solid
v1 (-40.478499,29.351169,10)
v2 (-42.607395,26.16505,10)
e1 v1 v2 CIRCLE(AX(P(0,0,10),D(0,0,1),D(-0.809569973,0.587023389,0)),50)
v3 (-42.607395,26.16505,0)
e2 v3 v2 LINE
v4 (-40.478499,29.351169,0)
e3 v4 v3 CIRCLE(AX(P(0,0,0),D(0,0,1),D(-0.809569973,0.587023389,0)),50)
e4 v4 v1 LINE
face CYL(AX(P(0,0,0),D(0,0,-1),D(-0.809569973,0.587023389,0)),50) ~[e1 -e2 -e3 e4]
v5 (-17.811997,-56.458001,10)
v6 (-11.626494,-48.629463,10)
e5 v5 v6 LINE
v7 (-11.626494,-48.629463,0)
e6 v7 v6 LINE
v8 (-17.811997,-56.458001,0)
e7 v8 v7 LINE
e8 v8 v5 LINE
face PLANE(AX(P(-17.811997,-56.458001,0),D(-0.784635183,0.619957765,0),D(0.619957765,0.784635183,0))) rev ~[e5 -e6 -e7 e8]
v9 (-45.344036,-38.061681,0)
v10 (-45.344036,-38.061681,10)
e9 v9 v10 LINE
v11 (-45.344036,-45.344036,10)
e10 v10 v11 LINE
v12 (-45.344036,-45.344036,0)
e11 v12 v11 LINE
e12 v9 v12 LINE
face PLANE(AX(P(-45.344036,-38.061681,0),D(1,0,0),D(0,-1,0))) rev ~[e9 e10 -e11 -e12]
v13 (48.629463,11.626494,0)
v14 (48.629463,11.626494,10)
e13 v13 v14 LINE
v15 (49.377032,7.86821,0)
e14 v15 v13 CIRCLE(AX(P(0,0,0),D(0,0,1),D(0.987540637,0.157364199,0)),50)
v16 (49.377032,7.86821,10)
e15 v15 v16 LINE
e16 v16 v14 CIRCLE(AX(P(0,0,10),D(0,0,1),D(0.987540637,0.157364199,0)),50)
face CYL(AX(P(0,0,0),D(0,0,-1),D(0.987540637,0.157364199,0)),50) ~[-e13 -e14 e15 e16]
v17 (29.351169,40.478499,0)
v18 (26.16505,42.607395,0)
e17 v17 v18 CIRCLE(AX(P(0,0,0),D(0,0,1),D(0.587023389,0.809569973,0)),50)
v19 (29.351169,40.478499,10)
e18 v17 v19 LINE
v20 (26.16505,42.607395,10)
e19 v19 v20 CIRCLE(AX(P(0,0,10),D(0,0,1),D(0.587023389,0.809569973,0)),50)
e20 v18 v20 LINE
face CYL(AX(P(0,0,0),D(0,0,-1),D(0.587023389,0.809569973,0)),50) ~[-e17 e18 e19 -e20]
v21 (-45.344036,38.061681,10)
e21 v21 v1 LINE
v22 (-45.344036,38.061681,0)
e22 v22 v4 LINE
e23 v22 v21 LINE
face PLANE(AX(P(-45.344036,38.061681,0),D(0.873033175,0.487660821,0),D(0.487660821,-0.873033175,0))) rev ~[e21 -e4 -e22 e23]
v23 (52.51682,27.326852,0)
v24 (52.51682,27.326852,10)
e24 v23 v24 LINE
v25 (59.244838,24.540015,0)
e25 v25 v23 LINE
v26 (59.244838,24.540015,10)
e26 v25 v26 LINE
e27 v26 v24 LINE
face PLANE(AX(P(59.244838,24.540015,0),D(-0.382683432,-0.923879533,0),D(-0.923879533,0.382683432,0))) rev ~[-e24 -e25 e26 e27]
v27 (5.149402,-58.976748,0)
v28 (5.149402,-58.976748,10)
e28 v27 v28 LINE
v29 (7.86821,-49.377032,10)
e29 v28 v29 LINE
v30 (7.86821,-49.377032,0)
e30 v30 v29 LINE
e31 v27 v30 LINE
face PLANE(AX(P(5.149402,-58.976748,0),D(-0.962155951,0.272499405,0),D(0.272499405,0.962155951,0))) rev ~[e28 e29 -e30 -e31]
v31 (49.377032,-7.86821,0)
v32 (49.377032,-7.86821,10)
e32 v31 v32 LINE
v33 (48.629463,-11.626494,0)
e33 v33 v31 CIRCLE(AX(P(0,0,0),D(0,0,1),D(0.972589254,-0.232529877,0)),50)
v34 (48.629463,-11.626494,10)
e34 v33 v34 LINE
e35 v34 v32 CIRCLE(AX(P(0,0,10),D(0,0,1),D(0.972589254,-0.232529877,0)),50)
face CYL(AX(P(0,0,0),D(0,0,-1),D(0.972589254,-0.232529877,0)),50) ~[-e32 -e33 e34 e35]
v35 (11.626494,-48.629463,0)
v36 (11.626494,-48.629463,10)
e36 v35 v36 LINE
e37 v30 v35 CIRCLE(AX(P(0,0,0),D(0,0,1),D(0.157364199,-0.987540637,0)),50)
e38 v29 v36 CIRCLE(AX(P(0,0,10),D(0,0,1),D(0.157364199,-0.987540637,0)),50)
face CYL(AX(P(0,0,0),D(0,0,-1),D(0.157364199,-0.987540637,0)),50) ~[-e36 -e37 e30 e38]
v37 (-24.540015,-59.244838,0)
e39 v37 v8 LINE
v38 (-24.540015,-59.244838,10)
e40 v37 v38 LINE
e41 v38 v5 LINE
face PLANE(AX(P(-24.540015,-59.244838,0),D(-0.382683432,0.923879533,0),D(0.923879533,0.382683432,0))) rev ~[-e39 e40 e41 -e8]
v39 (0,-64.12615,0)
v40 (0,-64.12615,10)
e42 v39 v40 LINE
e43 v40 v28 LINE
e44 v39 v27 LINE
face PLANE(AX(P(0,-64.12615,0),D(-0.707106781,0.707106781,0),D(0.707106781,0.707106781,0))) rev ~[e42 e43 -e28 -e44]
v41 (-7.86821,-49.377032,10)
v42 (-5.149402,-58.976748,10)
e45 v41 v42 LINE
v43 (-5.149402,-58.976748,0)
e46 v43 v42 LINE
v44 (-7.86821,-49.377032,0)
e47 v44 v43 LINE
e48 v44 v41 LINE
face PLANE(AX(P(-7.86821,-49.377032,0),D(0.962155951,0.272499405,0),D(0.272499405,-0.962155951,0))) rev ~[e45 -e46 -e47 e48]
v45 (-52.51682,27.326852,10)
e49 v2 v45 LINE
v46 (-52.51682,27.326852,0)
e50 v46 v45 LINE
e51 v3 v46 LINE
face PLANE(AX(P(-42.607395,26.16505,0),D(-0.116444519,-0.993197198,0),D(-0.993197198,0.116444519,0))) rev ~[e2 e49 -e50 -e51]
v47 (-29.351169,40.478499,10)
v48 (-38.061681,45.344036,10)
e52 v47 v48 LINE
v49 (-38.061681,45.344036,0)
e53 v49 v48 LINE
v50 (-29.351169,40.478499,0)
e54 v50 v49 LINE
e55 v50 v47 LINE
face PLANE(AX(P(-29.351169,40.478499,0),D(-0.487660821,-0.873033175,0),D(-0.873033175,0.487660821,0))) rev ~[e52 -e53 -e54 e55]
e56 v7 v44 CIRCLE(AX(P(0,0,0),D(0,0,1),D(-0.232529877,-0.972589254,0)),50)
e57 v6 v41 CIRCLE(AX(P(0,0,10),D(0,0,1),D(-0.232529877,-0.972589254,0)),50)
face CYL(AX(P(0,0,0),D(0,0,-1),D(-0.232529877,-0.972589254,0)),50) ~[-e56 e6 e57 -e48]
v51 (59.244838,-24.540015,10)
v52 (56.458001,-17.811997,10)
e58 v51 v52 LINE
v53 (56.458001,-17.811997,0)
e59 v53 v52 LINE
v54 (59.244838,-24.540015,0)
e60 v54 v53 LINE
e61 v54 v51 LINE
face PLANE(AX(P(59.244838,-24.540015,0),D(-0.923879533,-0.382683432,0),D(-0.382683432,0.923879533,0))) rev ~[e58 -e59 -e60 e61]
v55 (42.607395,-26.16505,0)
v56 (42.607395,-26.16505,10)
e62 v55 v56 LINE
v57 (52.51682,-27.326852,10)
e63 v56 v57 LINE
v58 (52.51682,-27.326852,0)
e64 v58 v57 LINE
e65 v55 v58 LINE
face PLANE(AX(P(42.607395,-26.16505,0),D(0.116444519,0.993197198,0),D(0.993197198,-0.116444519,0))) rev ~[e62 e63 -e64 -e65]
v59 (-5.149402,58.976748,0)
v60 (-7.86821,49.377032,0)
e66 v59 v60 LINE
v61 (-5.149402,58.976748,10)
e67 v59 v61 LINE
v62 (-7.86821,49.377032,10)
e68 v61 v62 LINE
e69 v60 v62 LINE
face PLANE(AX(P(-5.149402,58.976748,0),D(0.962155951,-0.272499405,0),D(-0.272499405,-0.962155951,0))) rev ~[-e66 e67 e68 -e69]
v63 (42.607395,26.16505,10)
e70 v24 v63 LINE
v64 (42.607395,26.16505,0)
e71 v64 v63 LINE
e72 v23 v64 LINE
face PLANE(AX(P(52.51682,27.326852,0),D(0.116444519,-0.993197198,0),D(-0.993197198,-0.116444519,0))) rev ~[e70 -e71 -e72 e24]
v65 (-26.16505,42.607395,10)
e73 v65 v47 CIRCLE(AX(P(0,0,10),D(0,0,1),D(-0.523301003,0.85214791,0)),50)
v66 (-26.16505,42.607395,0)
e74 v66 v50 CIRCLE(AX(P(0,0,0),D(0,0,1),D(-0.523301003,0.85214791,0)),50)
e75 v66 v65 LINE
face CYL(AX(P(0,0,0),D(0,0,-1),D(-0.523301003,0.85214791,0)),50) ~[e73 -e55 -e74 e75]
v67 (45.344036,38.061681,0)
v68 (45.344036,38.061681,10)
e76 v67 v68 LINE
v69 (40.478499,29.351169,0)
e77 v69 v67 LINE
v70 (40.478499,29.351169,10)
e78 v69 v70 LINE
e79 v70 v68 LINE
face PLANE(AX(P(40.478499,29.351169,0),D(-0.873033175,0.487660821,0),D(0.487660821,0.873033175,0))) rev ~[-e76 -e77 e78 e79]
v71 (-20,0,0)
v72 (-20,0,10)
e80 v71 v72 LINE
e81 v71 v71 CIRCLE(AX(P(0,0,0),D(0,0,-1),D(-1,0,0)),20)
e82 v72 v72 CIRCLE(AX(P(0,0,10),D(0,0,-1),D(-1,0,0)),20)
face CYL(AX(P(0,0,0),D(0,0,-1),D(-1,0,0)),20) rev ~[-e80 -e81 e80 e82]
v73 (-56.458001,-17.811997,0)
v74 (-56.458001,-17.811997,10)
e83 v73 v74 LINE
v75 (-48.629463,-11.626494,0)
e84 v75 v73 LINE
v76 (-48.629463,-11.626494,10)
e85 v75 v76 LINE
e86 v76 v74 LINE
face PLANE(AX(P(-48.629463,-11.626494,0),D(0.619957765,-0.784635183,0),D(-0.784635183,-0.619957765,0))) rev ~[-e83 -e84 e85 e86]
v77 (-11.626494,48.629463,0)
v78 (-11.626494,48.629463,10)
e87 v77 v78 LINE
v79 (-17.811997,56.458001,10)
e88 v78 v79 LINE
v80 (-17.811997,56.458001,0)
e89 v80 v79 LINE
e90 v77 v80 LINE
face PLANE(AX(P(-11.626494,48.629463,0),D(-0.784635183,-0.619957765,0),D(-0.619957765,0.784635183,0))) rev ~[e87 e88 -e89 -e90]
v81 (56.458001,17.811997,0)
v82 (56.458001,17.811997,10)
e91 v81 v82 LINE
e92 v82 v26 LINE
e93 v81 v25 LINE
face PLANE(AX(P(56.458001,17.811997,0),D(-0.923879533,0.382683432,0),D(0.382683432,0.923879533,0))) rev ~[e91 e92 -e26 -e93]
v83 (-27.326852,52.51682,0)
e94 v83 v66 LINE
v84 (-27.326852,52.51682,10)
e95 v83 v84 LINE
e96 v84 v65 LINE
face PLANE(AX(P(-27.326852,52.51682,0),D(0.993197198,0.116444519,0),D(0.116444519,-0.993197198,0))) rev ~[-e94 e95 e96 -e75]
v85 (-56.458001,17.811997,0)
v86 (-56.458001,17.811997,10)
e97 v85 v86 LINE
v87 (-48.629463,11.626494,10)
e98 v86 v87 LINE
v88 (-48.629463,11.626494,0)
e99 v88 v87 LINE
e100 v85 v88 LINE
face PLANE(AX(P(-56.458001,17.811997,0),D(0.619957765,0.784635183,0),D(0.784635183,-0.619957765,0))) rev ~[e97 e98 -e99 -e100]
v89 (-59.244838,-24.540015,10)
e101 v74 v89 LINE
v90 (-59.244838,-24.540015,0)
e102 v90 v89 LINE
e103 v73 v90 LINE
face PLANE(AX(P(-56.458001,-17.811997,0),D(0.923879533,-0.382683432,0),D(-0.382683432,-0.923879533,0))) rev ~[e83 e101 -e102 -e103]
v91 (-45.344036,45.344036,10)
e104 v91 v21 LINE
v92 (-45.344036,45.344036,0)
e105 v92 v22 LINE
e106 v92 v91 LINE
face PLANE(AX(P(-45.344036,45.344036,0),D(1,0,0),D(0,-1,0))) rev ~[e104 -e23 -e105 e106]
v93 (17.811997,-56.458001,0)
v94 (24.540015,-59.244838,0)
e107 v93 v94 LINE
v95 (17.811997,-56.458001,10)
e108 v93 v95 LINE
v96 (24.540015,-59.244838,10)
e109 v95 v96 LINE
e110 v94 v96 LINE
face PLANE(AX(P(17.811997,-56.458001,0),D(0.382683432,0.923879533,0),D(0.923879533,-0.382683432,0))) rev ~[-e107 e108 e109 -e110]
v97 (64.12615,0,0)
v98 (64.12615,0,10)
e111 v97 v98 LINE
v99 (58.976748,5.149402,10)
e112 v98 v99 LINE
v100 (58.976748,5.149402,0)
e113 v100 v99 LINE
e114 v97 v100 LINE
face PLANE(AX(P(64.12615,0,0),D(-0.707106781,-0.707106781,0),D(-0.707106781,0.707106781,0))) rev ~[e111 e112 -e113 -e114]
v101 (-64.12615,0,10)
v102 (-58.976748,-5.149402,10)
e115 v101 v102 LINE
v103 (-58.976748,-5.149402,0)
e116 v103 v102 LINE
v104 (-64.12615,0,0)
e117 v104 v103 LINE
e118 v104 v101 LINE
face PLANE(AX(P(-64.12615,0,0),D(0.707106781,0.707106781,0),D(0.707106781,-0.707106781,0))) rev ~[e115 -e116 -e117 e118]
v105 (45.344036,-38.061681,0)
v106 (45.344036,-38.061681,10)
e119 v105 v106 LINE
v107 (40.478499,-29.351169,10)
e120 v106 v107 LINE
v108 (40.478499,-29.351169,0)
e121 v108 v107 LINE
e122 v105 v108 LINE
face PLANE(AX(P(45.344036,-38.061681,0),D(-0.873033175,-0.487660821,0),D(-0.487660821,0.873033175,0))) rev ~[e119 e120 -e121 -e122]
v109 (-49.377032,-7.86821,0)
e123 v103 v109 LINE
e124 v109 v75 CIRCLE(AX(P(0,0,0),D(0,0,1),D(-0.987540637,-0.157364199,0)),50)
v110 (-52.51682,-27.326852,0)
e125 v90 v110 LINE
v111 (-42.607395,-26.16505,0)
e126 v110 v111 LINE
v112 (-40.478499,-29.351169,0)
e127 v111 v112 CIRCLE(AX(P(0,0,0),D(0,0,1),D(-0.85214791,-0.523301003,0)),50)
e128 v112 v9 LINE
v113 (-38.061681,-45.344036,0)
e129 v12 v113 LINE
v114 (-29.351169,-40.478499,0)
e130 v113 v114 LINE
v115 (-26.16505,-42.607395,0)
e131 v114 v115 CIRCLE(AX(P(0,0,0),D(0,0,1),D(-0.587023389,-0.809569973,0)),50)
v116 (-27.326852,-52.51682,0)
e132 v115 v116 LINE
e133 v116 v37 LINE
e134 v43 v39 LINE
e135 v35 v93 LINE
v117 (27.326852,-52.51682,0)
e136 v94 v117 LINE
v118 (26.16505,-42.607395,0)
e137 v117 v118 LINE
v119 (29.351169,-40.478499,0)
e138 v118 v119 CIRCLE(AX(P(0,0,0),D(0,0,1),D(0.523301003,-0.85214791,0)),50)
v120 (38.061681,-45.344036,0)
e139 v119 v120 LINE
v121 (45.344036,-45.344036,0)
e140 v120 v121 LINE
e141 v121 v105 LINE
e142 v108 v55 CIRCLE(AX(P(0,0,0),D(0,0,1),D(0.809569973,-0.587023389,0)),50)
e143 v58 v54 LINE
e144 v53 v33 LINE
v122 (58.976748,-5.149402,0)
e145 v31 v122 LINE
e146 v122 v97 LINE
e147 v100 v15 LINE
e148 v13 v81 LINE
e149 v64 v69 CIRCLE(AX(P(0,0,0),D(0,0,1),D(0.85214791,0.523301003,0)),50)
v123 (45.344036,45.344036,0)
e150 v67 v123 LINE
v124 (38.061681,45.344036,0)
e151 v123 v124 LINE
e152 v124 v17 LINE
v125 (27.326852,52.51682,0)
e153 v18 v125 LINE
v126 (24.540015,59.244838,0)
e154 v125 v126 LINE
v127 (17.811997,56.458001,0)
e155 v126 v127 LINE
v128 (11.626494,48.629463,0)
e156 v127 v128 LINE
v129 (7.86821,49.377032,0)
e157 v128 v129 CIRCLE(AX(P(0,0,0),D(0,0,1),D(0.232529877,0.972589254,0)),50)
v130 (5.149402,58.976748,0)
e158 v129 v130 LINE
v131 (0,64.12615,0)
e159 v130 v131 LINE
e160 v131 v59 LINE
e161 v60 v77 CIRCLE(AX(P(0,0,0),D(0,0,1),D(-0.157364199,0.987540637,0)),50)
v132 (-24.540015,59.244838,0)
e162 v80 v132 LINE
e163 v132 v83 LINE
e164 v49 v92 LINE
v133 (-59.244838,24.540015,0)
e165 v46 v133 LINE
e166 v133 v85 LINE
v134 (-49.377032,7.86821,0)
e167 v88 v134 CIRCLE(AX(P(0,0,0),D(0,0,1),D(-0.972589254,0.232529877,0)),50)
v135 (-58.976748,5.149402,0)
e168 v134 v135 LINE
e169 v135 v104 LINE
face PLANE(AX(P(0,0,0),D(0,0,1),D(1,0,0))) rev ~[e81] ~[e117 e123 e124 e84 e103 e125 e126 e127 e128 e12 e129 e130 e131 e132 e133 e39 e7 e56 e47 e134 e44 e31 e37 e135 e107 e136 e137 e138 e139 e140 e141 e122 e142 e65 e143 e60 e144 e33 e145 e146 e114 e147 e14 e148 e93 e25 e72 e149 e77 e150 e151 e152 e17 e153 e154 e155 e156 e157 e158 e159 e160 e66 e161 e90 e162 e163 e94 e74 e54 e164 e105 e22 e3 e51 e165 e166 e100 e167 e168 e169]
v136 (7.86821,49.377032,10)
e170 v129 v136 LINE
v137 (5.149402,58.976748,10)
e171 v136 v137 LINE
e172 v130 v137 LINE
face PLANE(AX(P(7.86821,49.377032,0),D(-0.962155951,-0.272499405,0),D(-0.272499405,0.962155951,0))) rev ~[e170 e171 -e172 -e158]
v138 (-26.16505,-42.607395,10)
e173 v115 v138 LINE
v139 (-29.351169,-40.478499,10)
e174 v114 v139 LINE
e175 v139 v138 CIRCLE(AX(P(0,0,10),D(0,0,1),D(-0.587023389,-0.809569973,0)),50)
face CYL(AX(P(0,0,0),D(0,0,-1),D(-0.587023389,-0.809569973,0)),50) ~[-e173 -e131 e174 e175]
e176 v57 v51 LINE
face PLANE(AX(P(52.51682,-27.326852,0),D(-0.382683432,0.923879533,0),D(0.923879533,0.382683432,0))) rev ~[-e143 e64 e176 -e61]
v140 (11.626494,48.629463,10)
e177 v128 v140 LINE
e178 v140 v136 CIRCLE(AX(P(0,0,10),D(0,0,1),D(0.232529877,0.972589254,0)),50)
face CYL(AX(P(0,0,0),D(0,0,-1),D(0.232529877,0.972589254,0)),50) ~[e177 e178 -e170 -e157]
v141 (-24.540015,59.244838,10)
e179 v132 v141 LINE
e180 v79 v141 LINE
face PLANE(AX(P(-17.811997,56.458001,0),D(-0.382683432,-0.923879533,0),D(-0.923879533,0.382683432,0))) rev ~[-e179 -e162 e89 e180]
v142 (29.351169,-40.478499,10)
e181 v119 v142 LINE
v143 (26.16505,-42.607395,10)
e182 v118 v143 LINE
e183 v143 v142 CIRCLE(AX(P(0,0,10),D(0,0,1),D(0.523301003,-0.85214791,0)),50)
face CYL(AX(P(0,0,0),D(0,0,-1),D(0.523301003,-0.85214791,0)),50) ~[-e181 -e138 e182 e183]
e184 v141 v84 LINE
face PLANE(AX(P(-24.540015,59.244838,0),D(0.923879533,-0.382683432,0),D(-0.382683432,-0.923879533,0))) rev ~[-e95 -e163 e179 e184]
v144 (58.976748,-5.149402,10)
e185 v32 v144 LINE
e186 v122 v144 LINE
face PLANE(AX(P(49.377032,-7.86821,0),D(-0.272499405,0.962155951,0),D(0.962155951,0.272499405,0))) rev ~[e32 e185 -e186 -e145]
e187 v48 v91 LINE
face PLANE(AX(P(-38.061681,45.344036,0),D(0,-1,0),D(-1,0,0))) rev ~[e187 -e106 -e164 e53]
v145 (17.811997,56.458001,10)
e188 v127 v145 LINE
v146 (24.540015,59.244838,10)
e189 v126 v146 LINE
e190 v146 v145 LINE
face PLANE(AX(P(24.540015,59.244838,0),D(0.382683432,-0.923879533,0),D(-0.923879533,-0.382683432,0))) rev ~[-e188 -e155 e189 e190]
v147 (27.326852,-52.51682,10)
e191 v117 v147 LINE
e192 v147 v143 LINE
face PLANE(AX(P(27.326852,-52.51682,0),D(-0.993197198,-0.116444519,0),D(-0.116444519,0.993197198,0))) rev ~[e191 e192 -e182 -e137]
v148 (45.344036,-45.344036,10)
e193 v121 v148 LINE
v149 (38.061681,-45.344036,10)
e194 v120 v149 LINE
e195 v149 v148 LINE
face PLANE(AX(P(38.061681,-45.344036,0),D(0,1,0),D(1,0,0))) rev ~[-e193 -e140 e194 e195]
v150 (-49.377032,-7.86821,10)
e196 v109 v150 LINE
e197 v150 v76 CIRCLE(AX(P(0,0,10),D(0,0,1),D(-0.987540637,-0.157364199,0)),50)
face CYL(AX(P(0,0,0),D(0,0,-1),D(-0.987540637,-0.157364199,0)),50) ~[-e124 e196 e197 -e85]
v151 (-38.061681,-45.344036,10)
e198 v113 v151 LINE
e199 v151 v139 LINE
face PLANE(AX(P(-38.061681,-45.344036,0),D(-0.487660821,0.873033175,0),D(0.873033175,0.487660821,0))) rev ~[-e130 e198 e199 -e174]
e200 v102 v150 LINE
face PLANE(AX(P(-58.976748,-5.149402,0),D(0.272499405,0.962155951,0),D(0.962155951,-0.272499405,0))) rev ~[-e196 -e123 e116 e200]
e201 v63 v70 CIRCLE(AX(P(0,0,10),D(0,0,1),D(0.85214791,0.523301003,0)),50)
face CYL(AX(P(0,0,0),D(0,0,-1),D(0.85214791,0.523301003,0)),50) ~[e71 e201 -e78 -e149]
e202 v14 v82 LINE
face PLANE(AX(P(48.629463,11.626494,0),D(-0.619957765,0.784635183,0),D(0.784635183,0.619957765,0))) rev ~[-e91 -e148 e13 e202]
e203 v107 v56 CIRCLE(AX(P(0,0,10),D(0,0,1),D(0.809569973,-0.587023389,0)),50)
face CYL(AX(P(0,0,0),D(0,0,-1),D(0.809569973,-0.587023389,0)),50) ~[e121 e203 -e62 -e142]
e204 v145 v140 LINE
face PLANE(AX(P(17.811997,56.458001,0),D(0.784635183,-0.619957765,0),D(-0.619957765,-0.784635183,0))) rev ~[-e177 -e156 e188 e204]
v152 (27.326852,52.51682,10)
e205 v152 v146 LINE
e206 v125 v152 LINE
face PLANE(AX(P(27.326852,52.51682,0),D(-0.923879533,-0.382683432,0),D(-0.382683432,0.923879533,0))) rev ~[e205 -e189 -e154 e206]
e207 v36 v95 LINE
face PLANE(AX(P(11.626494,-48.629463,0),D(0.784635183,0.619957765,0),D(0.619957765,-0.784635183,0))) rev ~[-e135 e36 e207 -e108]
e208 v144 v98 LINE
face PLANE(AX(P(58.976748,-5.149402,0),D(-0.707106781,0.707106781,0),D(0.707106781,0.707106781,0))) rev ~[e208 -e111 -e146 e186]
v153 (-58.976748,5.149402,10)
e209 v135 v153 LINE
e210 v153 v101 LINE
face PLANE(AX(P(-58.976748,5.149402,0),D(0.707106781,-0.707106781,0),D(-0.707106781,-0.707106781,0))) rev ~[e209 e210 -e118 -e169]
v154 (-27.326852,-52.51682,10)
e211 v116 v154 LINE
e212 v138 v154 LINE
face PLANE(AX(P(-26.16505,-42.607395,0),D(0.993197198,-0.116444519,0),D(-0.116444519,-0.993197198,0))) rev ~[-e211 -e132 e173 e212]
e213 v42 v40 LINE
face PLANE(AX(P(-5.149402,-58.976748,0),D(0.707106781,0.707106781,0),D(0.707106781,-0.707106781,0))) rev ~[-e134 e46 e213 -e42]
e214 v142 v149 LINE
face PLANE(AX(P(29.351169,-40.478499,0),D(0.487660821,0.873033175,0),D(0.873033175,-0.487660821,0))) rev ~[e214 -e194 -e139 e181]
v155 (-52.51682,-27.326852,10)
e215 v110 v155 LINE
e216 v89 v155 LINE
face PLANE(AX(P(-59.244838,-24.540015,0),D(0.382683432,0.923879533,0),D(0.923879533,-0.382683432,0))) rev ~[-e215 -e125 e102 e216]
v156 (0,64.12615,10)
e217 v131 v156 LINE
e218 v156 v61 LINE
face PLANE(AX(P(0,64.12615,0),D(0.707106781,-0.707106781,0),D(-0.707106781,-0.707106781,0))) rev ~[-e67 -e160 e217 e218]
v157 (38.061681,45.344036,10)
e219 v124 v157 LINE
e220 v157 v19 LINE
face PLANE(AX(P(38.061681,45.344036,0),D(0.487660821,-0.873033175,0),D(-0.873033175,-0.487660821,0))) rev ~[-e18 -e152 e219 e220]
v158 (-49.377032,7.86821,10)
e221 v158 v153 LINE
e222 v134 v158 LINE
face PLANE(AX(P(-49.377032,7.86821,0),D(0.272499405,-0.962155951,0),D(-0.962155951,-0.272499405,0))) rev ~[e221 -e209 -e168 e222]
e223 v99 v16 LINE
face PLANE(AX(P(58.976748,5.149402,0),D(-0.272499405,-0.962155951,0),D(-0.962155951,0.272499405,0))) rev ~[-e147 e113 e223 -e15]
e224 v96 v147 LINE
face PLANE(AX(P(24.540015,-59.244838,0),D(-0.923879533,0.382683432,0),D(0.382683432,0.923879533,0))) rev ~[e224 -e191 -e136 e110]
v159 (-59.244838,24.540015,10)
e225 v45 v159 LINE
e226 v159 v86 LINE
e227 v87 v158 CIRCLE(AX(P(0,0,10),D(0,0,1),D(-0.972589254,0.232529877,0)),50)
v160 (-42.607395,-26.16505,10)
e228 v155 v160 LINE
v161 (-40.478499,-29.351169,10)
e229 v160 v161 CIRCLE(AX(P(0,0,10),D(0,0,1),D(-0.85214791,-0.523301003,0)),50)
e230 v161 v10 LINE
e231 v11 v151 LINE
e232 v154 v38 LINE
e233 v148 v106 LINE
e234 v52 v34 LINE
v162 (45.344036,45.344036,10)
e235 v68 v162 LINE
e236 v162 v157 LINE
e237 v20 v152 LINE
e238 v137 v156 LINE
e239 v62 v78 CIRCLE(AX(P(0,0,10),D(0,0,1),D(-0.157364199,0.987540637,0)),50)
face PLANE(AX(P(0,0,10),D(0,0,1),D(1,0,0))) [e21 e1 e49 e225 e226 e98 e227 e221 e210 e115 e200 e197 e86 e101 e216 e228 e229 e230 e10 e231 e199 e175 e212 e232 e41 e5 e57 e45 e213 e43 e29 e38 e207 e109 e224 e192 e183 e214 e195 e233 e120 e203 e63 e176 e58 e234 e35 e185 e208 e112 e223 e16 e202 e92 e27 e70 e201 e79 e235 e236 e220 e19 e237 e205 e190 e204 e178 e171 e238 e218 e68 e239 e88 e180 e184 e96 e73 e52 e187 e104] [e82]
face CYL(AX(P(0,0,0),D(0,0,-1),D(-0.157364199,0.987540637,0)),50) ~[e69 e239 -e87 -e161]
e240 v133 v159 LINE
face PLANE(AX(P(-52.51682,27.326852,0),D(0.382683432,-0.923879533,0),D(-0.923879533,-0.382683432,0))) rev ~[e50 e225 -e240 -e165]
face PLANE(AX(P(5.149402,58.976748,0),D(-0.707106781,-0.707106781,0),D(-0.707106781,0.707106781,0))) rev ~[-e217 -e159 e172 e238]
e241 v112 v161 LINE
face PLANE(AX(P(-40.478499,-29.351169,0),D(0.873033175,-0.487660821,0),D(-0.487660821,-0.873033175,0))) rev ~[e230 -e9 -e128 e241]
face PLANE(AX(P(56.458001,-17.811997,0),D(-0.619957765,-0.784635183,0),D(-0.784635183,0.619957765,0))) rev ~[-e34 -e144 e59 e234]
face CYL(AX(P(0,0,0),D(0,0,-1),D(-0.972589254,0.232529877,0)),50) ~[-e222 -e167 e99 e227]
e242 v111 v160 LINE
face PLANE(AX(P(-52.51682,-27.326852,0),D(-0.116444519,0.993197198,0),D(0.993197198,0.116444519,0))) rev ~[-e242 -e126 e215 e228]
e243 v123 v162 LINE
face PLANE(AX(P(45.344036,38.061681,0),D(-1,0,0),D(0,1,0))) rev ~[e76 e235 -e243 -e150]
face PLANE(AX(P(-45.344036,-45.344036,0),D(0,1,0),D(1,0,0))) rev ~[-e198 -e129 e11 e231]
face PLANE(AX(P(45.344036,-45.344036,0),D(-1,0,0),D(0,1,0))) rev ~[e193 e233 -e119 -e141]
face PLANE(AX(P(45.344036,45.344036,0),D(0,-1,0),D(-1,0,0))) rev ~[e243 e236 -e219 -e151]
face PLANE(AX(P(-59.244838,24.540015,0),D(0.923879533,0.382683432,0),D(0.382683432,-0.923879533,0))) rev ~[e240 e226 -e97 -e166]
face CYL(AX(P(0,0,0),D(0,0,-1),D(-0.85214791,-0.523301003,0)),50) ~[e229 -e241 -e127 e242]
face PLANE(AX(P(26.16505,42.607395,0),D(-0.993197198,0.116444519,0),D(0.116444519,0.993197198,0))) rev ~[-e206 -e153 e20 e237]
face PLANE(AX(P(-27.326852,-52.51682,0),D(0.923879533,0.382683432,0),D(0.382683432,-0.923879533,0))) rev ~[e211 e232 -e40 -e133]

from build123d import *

# Parameters (mm, degrees)
BOSS_EXTRUDE2_DEPTH = 10
SKETCH2_R           = 20
CUT_EXTRUDE1_DEPTH  = 10


with BuildPart() as part:
    # Sketch1 → Boss-Extrude2 (new body)
    with BuildSketch(Plane.XY):
        with BuildLine():
            Line((17.811997012, 56.458001404), (11.62649389, 48.629462673))
            ThreePointArc((11.62649389, 48.629462673), (9.754516101, 49.03926402), (7.86820995, 49.377031828))
            Line((7.86820995, 49.377031828), (5.14940229, 58.976748098))
            Line((5.14940229, 58.976748098), (0, 64.126150387))
            Line((0, 64.126150387), (-5.14940229, 58.976748098))
            Line((-5.14940229, 58.976748098), (-7.86820995, 49.377031828))
            ThreePointArc((-7.86820995, 49.377031828), (-9.754516101, 49.03926402), (-11.62649389, 48.629462673))
            Line((-11.62649389, 48.629462673), (-17.811997012, 56.458001404))
            Line((-17.811997012, 56.458001404), (-24.540015335, 59.244837841))
            Line((-24.540015335, 59.244837841), (-27.326851772, 52.516819519))
            Line((-27.326851772, 52.516819519), (-26.16505015, 42.607395492))
            ThreePointArc((-26.16505015, 42.607395492), (-27.778511651, 41.573480615), (-29.351169429, 40.478498652))
            Line((-29.351169429, 40.478498652), (-38.061681234, 45.34403579))
            Line((-38.061681234, 45.34403579), (-45.34403579, 45.34403579))
            Line((-45.34403579, 45.34403579), (-45.34403579, 38.061681234))
            Line((-45.34403579, 38.061681234), (-40.478498652, 29.351169429))
            ThreePointArc((-40.478498652, 29.351169429), (-41.573480615, 27.778511651), (-42.607395492, 26.16505015))
            Line((-42.607395492, 26.16505015), (-52.516819519, 27.326851772))
            Line((-52.516819519, 27.326851772), (-59.244837841, 24.540015335))
            Line((-59.244837841, 24.540015335), (-56.458001404, 17.811997012))
            Line((-56.458001404, 17.811997012), (-48.629462673, 11.62649389))
            ThreePointArc((-48.629462673, 11.62649389), (-49.03926402, 9.754516101), (-49.377031828, 7.86820995))
            Line((-49.377031828, 7.86820995), (-58.976748098, 5.14940229))
            Line((-58.976748098, 5.14940229), (-64.126150387, 0))
            Line((-64.126150387, 0), (-58.976748098, -5.14940229))
            Line((-58.976748098, -5.14940229), (-49.377031828, -7.86820995))
            ThreePointArc((-49.377031828, -7.86820995), (-49.03926402, -9.754516101), (-48.629462673, -11.62649389))
            Line((-48.629462673, -11.62649389), (-56.458001404, -17.811997012))
            Line((-56.458001404, -17.811997012), (-59.244837841, -24.540015335))
            Line((-59.244837841, -24.540015335), (-52.516819519, -27.326851772))
            Line((-52.516819519, -27.326851772), (-42.607395492, -26.16505015))
            ThreePointArc((-42.607395492, -26.16505015), (-41.573480615, -27.778511651), (-40.478498652, -29.351169429))
            Line((-40.478498652, -29.351169429), (-45.34403579, -38.061681234))
            Line((-45.34403579, -38.061681234), (-45.34403579, -45.34403579))
            Line((-45.34403579, -45.34403579), (-38.061681234, -45.34403579))
            Line((-38.061681234, -45.34403579), (-29.351169429, -40.478498652))
            ThreePointArc((-29.351169429, -40.478498652), (-27.778511651, -41.573480615), (-26.16505015, -42.607395492))
            Line((-26.16505015, -42.607395492), (-27.326851772, -52.516819519))
            Line((-27.326851772, -52.516819519), (-24.540015335, -59.244837841))
            Line((-24.540015335, -59.244837841), (-17.811997012, -56.458001404))
            Line((-17.811997012, -56.458001404), (-11.62649389, -48.629462673))
            ThreePointArc((-11.62649389, -48.629462673), (-9.754516101, -49.03926402), (-7.86820995, -49.377031828))
            Line((-7.86820995, -49.377031828), (-5.14940229, -58.976748098))
            Line((-5.14940229, -58.976748098), (0, -64.126150387))
            Line((0, -64.126150387), (5.14940229, -58.976748098))
            Line((5.14940229, -58.976748098), (7.86820995, -49.377031828))
            ThreePointArc((7.86820995, -49.377031828), (9.754516101, -49.03926402), (11.62649389, -48.629462673))
            Line((11.62649389, -48.629462673), (17.811997012, -56.458001404))
            Line((17.811997012, -56.458001404), (24.540015335, -59.244837841))
            Line((24.540015335, -59.244837841), (27.326851772, -52.516819519))
            Line((27.326851772, -52.516819519), (26.16505015, -42.607395492))
            ThreePointArc((26.16505015, -42.607395492), (27.778511651, -41.573480615), (29.351169429, -40.478498652))
            Line((29.351169429, -40.478498652), (38.061681234, -45.34403579))
            Line((38.061681234, -45.34403579), (45.34403579, -45.34403579))
            Line((45.34403579, -45.34403579), (45.34403579, -38.061681234))
            Line((45.34403579, -38.061681234), (40.478498652, -29.351169429))
            ThreePointArc((40.478498652, -29.351169429), (41.573480615, -27.778511651), (42.607395492, -26.16505015))
            Line((42.607395492, -26.16505015), (52.516819519, -27.326851772))
            Line((52.516819519, -27.326851772), (59.244837841, -24.540015335))
            Line((59.244837841, -24.540015335), (56.458001404, -17.811997012))
            Line((56.458001404, -17.811997012), (48.629462673, -11.62649389))
            ThreePointArc((48.629462673, -11.62649389), (49.03926402, -9.754516101), (49.377031828, -7.86820995))
            Line((49.377031828, -7.86820995), (58.976748098, -5.14940229))
            Line((58.976748098, -5.14940229), (64.126150387, 0))
            Line((64.126150387, 0), (58.976748098, 5.14940229))
            Line((58.976748098, 5.14940229), (49.377031828, 7.86820995))
            ThreePointArc((49.377031828, 7.86820995), (49.03926402, 9.754516101), (48.629462673, 11.62649389))
            Line((48.629462673, 11.62649389), (56.458001404, 17.811997012))
            Line((56.458001404, 17.811997012), (59.244837841, 24.540015335))
            Line((59.244837841, 24.540015335), (52.516819519, 27.326851772))
            Line((52.516819519, 27.326851772), (42.607395492, 26.16505015))
            ThreePointArc((42.607395492, 26.16505015), (41.573480615, 27.778511651), (40.478498652, 29.351169429))
            Line((40.478498652, 29.351169429), (45.34403579, 38.061681234))
            Line((45.34403579, 38.061681234), (45.34403579, 45.34403579))
            Line((45.34403579, 45.34403579), (38.061681234, 45.34403579))
            Line((38.061681234, 45.34403579), (29.351169429, 40.478498652))
            ThreePointArc((29.351169429, 40.478498652), (27.778511651, 41.573480615), (26.16505015, 42.607395492))
            Line((26.16505015, 42.607395492), (27.326851772, 52.516819519))
            Line((27.326851772, 52.516819519), (24.540015335, 59.244837841))
            Line((24.540015335, 59.244837841), (17.811997012, 56.458001404))
        make_face()
    extrude(amount=BOSS_EXTRUDE2_DEPTH)

    # Sketch2 → Cut-Extrude1 (cut)
    with BuildSketch(Plane(origin=(0, 0, 0), x_dir=(-1, 0, 0), z_dir=(0, 0, -1))):
        Circle(SKETCH2_R)
    extrude(amount=-CUT_EXTRUDE1_DEPTH, mode=Mode.SUBTRACT)


solid = part.part
